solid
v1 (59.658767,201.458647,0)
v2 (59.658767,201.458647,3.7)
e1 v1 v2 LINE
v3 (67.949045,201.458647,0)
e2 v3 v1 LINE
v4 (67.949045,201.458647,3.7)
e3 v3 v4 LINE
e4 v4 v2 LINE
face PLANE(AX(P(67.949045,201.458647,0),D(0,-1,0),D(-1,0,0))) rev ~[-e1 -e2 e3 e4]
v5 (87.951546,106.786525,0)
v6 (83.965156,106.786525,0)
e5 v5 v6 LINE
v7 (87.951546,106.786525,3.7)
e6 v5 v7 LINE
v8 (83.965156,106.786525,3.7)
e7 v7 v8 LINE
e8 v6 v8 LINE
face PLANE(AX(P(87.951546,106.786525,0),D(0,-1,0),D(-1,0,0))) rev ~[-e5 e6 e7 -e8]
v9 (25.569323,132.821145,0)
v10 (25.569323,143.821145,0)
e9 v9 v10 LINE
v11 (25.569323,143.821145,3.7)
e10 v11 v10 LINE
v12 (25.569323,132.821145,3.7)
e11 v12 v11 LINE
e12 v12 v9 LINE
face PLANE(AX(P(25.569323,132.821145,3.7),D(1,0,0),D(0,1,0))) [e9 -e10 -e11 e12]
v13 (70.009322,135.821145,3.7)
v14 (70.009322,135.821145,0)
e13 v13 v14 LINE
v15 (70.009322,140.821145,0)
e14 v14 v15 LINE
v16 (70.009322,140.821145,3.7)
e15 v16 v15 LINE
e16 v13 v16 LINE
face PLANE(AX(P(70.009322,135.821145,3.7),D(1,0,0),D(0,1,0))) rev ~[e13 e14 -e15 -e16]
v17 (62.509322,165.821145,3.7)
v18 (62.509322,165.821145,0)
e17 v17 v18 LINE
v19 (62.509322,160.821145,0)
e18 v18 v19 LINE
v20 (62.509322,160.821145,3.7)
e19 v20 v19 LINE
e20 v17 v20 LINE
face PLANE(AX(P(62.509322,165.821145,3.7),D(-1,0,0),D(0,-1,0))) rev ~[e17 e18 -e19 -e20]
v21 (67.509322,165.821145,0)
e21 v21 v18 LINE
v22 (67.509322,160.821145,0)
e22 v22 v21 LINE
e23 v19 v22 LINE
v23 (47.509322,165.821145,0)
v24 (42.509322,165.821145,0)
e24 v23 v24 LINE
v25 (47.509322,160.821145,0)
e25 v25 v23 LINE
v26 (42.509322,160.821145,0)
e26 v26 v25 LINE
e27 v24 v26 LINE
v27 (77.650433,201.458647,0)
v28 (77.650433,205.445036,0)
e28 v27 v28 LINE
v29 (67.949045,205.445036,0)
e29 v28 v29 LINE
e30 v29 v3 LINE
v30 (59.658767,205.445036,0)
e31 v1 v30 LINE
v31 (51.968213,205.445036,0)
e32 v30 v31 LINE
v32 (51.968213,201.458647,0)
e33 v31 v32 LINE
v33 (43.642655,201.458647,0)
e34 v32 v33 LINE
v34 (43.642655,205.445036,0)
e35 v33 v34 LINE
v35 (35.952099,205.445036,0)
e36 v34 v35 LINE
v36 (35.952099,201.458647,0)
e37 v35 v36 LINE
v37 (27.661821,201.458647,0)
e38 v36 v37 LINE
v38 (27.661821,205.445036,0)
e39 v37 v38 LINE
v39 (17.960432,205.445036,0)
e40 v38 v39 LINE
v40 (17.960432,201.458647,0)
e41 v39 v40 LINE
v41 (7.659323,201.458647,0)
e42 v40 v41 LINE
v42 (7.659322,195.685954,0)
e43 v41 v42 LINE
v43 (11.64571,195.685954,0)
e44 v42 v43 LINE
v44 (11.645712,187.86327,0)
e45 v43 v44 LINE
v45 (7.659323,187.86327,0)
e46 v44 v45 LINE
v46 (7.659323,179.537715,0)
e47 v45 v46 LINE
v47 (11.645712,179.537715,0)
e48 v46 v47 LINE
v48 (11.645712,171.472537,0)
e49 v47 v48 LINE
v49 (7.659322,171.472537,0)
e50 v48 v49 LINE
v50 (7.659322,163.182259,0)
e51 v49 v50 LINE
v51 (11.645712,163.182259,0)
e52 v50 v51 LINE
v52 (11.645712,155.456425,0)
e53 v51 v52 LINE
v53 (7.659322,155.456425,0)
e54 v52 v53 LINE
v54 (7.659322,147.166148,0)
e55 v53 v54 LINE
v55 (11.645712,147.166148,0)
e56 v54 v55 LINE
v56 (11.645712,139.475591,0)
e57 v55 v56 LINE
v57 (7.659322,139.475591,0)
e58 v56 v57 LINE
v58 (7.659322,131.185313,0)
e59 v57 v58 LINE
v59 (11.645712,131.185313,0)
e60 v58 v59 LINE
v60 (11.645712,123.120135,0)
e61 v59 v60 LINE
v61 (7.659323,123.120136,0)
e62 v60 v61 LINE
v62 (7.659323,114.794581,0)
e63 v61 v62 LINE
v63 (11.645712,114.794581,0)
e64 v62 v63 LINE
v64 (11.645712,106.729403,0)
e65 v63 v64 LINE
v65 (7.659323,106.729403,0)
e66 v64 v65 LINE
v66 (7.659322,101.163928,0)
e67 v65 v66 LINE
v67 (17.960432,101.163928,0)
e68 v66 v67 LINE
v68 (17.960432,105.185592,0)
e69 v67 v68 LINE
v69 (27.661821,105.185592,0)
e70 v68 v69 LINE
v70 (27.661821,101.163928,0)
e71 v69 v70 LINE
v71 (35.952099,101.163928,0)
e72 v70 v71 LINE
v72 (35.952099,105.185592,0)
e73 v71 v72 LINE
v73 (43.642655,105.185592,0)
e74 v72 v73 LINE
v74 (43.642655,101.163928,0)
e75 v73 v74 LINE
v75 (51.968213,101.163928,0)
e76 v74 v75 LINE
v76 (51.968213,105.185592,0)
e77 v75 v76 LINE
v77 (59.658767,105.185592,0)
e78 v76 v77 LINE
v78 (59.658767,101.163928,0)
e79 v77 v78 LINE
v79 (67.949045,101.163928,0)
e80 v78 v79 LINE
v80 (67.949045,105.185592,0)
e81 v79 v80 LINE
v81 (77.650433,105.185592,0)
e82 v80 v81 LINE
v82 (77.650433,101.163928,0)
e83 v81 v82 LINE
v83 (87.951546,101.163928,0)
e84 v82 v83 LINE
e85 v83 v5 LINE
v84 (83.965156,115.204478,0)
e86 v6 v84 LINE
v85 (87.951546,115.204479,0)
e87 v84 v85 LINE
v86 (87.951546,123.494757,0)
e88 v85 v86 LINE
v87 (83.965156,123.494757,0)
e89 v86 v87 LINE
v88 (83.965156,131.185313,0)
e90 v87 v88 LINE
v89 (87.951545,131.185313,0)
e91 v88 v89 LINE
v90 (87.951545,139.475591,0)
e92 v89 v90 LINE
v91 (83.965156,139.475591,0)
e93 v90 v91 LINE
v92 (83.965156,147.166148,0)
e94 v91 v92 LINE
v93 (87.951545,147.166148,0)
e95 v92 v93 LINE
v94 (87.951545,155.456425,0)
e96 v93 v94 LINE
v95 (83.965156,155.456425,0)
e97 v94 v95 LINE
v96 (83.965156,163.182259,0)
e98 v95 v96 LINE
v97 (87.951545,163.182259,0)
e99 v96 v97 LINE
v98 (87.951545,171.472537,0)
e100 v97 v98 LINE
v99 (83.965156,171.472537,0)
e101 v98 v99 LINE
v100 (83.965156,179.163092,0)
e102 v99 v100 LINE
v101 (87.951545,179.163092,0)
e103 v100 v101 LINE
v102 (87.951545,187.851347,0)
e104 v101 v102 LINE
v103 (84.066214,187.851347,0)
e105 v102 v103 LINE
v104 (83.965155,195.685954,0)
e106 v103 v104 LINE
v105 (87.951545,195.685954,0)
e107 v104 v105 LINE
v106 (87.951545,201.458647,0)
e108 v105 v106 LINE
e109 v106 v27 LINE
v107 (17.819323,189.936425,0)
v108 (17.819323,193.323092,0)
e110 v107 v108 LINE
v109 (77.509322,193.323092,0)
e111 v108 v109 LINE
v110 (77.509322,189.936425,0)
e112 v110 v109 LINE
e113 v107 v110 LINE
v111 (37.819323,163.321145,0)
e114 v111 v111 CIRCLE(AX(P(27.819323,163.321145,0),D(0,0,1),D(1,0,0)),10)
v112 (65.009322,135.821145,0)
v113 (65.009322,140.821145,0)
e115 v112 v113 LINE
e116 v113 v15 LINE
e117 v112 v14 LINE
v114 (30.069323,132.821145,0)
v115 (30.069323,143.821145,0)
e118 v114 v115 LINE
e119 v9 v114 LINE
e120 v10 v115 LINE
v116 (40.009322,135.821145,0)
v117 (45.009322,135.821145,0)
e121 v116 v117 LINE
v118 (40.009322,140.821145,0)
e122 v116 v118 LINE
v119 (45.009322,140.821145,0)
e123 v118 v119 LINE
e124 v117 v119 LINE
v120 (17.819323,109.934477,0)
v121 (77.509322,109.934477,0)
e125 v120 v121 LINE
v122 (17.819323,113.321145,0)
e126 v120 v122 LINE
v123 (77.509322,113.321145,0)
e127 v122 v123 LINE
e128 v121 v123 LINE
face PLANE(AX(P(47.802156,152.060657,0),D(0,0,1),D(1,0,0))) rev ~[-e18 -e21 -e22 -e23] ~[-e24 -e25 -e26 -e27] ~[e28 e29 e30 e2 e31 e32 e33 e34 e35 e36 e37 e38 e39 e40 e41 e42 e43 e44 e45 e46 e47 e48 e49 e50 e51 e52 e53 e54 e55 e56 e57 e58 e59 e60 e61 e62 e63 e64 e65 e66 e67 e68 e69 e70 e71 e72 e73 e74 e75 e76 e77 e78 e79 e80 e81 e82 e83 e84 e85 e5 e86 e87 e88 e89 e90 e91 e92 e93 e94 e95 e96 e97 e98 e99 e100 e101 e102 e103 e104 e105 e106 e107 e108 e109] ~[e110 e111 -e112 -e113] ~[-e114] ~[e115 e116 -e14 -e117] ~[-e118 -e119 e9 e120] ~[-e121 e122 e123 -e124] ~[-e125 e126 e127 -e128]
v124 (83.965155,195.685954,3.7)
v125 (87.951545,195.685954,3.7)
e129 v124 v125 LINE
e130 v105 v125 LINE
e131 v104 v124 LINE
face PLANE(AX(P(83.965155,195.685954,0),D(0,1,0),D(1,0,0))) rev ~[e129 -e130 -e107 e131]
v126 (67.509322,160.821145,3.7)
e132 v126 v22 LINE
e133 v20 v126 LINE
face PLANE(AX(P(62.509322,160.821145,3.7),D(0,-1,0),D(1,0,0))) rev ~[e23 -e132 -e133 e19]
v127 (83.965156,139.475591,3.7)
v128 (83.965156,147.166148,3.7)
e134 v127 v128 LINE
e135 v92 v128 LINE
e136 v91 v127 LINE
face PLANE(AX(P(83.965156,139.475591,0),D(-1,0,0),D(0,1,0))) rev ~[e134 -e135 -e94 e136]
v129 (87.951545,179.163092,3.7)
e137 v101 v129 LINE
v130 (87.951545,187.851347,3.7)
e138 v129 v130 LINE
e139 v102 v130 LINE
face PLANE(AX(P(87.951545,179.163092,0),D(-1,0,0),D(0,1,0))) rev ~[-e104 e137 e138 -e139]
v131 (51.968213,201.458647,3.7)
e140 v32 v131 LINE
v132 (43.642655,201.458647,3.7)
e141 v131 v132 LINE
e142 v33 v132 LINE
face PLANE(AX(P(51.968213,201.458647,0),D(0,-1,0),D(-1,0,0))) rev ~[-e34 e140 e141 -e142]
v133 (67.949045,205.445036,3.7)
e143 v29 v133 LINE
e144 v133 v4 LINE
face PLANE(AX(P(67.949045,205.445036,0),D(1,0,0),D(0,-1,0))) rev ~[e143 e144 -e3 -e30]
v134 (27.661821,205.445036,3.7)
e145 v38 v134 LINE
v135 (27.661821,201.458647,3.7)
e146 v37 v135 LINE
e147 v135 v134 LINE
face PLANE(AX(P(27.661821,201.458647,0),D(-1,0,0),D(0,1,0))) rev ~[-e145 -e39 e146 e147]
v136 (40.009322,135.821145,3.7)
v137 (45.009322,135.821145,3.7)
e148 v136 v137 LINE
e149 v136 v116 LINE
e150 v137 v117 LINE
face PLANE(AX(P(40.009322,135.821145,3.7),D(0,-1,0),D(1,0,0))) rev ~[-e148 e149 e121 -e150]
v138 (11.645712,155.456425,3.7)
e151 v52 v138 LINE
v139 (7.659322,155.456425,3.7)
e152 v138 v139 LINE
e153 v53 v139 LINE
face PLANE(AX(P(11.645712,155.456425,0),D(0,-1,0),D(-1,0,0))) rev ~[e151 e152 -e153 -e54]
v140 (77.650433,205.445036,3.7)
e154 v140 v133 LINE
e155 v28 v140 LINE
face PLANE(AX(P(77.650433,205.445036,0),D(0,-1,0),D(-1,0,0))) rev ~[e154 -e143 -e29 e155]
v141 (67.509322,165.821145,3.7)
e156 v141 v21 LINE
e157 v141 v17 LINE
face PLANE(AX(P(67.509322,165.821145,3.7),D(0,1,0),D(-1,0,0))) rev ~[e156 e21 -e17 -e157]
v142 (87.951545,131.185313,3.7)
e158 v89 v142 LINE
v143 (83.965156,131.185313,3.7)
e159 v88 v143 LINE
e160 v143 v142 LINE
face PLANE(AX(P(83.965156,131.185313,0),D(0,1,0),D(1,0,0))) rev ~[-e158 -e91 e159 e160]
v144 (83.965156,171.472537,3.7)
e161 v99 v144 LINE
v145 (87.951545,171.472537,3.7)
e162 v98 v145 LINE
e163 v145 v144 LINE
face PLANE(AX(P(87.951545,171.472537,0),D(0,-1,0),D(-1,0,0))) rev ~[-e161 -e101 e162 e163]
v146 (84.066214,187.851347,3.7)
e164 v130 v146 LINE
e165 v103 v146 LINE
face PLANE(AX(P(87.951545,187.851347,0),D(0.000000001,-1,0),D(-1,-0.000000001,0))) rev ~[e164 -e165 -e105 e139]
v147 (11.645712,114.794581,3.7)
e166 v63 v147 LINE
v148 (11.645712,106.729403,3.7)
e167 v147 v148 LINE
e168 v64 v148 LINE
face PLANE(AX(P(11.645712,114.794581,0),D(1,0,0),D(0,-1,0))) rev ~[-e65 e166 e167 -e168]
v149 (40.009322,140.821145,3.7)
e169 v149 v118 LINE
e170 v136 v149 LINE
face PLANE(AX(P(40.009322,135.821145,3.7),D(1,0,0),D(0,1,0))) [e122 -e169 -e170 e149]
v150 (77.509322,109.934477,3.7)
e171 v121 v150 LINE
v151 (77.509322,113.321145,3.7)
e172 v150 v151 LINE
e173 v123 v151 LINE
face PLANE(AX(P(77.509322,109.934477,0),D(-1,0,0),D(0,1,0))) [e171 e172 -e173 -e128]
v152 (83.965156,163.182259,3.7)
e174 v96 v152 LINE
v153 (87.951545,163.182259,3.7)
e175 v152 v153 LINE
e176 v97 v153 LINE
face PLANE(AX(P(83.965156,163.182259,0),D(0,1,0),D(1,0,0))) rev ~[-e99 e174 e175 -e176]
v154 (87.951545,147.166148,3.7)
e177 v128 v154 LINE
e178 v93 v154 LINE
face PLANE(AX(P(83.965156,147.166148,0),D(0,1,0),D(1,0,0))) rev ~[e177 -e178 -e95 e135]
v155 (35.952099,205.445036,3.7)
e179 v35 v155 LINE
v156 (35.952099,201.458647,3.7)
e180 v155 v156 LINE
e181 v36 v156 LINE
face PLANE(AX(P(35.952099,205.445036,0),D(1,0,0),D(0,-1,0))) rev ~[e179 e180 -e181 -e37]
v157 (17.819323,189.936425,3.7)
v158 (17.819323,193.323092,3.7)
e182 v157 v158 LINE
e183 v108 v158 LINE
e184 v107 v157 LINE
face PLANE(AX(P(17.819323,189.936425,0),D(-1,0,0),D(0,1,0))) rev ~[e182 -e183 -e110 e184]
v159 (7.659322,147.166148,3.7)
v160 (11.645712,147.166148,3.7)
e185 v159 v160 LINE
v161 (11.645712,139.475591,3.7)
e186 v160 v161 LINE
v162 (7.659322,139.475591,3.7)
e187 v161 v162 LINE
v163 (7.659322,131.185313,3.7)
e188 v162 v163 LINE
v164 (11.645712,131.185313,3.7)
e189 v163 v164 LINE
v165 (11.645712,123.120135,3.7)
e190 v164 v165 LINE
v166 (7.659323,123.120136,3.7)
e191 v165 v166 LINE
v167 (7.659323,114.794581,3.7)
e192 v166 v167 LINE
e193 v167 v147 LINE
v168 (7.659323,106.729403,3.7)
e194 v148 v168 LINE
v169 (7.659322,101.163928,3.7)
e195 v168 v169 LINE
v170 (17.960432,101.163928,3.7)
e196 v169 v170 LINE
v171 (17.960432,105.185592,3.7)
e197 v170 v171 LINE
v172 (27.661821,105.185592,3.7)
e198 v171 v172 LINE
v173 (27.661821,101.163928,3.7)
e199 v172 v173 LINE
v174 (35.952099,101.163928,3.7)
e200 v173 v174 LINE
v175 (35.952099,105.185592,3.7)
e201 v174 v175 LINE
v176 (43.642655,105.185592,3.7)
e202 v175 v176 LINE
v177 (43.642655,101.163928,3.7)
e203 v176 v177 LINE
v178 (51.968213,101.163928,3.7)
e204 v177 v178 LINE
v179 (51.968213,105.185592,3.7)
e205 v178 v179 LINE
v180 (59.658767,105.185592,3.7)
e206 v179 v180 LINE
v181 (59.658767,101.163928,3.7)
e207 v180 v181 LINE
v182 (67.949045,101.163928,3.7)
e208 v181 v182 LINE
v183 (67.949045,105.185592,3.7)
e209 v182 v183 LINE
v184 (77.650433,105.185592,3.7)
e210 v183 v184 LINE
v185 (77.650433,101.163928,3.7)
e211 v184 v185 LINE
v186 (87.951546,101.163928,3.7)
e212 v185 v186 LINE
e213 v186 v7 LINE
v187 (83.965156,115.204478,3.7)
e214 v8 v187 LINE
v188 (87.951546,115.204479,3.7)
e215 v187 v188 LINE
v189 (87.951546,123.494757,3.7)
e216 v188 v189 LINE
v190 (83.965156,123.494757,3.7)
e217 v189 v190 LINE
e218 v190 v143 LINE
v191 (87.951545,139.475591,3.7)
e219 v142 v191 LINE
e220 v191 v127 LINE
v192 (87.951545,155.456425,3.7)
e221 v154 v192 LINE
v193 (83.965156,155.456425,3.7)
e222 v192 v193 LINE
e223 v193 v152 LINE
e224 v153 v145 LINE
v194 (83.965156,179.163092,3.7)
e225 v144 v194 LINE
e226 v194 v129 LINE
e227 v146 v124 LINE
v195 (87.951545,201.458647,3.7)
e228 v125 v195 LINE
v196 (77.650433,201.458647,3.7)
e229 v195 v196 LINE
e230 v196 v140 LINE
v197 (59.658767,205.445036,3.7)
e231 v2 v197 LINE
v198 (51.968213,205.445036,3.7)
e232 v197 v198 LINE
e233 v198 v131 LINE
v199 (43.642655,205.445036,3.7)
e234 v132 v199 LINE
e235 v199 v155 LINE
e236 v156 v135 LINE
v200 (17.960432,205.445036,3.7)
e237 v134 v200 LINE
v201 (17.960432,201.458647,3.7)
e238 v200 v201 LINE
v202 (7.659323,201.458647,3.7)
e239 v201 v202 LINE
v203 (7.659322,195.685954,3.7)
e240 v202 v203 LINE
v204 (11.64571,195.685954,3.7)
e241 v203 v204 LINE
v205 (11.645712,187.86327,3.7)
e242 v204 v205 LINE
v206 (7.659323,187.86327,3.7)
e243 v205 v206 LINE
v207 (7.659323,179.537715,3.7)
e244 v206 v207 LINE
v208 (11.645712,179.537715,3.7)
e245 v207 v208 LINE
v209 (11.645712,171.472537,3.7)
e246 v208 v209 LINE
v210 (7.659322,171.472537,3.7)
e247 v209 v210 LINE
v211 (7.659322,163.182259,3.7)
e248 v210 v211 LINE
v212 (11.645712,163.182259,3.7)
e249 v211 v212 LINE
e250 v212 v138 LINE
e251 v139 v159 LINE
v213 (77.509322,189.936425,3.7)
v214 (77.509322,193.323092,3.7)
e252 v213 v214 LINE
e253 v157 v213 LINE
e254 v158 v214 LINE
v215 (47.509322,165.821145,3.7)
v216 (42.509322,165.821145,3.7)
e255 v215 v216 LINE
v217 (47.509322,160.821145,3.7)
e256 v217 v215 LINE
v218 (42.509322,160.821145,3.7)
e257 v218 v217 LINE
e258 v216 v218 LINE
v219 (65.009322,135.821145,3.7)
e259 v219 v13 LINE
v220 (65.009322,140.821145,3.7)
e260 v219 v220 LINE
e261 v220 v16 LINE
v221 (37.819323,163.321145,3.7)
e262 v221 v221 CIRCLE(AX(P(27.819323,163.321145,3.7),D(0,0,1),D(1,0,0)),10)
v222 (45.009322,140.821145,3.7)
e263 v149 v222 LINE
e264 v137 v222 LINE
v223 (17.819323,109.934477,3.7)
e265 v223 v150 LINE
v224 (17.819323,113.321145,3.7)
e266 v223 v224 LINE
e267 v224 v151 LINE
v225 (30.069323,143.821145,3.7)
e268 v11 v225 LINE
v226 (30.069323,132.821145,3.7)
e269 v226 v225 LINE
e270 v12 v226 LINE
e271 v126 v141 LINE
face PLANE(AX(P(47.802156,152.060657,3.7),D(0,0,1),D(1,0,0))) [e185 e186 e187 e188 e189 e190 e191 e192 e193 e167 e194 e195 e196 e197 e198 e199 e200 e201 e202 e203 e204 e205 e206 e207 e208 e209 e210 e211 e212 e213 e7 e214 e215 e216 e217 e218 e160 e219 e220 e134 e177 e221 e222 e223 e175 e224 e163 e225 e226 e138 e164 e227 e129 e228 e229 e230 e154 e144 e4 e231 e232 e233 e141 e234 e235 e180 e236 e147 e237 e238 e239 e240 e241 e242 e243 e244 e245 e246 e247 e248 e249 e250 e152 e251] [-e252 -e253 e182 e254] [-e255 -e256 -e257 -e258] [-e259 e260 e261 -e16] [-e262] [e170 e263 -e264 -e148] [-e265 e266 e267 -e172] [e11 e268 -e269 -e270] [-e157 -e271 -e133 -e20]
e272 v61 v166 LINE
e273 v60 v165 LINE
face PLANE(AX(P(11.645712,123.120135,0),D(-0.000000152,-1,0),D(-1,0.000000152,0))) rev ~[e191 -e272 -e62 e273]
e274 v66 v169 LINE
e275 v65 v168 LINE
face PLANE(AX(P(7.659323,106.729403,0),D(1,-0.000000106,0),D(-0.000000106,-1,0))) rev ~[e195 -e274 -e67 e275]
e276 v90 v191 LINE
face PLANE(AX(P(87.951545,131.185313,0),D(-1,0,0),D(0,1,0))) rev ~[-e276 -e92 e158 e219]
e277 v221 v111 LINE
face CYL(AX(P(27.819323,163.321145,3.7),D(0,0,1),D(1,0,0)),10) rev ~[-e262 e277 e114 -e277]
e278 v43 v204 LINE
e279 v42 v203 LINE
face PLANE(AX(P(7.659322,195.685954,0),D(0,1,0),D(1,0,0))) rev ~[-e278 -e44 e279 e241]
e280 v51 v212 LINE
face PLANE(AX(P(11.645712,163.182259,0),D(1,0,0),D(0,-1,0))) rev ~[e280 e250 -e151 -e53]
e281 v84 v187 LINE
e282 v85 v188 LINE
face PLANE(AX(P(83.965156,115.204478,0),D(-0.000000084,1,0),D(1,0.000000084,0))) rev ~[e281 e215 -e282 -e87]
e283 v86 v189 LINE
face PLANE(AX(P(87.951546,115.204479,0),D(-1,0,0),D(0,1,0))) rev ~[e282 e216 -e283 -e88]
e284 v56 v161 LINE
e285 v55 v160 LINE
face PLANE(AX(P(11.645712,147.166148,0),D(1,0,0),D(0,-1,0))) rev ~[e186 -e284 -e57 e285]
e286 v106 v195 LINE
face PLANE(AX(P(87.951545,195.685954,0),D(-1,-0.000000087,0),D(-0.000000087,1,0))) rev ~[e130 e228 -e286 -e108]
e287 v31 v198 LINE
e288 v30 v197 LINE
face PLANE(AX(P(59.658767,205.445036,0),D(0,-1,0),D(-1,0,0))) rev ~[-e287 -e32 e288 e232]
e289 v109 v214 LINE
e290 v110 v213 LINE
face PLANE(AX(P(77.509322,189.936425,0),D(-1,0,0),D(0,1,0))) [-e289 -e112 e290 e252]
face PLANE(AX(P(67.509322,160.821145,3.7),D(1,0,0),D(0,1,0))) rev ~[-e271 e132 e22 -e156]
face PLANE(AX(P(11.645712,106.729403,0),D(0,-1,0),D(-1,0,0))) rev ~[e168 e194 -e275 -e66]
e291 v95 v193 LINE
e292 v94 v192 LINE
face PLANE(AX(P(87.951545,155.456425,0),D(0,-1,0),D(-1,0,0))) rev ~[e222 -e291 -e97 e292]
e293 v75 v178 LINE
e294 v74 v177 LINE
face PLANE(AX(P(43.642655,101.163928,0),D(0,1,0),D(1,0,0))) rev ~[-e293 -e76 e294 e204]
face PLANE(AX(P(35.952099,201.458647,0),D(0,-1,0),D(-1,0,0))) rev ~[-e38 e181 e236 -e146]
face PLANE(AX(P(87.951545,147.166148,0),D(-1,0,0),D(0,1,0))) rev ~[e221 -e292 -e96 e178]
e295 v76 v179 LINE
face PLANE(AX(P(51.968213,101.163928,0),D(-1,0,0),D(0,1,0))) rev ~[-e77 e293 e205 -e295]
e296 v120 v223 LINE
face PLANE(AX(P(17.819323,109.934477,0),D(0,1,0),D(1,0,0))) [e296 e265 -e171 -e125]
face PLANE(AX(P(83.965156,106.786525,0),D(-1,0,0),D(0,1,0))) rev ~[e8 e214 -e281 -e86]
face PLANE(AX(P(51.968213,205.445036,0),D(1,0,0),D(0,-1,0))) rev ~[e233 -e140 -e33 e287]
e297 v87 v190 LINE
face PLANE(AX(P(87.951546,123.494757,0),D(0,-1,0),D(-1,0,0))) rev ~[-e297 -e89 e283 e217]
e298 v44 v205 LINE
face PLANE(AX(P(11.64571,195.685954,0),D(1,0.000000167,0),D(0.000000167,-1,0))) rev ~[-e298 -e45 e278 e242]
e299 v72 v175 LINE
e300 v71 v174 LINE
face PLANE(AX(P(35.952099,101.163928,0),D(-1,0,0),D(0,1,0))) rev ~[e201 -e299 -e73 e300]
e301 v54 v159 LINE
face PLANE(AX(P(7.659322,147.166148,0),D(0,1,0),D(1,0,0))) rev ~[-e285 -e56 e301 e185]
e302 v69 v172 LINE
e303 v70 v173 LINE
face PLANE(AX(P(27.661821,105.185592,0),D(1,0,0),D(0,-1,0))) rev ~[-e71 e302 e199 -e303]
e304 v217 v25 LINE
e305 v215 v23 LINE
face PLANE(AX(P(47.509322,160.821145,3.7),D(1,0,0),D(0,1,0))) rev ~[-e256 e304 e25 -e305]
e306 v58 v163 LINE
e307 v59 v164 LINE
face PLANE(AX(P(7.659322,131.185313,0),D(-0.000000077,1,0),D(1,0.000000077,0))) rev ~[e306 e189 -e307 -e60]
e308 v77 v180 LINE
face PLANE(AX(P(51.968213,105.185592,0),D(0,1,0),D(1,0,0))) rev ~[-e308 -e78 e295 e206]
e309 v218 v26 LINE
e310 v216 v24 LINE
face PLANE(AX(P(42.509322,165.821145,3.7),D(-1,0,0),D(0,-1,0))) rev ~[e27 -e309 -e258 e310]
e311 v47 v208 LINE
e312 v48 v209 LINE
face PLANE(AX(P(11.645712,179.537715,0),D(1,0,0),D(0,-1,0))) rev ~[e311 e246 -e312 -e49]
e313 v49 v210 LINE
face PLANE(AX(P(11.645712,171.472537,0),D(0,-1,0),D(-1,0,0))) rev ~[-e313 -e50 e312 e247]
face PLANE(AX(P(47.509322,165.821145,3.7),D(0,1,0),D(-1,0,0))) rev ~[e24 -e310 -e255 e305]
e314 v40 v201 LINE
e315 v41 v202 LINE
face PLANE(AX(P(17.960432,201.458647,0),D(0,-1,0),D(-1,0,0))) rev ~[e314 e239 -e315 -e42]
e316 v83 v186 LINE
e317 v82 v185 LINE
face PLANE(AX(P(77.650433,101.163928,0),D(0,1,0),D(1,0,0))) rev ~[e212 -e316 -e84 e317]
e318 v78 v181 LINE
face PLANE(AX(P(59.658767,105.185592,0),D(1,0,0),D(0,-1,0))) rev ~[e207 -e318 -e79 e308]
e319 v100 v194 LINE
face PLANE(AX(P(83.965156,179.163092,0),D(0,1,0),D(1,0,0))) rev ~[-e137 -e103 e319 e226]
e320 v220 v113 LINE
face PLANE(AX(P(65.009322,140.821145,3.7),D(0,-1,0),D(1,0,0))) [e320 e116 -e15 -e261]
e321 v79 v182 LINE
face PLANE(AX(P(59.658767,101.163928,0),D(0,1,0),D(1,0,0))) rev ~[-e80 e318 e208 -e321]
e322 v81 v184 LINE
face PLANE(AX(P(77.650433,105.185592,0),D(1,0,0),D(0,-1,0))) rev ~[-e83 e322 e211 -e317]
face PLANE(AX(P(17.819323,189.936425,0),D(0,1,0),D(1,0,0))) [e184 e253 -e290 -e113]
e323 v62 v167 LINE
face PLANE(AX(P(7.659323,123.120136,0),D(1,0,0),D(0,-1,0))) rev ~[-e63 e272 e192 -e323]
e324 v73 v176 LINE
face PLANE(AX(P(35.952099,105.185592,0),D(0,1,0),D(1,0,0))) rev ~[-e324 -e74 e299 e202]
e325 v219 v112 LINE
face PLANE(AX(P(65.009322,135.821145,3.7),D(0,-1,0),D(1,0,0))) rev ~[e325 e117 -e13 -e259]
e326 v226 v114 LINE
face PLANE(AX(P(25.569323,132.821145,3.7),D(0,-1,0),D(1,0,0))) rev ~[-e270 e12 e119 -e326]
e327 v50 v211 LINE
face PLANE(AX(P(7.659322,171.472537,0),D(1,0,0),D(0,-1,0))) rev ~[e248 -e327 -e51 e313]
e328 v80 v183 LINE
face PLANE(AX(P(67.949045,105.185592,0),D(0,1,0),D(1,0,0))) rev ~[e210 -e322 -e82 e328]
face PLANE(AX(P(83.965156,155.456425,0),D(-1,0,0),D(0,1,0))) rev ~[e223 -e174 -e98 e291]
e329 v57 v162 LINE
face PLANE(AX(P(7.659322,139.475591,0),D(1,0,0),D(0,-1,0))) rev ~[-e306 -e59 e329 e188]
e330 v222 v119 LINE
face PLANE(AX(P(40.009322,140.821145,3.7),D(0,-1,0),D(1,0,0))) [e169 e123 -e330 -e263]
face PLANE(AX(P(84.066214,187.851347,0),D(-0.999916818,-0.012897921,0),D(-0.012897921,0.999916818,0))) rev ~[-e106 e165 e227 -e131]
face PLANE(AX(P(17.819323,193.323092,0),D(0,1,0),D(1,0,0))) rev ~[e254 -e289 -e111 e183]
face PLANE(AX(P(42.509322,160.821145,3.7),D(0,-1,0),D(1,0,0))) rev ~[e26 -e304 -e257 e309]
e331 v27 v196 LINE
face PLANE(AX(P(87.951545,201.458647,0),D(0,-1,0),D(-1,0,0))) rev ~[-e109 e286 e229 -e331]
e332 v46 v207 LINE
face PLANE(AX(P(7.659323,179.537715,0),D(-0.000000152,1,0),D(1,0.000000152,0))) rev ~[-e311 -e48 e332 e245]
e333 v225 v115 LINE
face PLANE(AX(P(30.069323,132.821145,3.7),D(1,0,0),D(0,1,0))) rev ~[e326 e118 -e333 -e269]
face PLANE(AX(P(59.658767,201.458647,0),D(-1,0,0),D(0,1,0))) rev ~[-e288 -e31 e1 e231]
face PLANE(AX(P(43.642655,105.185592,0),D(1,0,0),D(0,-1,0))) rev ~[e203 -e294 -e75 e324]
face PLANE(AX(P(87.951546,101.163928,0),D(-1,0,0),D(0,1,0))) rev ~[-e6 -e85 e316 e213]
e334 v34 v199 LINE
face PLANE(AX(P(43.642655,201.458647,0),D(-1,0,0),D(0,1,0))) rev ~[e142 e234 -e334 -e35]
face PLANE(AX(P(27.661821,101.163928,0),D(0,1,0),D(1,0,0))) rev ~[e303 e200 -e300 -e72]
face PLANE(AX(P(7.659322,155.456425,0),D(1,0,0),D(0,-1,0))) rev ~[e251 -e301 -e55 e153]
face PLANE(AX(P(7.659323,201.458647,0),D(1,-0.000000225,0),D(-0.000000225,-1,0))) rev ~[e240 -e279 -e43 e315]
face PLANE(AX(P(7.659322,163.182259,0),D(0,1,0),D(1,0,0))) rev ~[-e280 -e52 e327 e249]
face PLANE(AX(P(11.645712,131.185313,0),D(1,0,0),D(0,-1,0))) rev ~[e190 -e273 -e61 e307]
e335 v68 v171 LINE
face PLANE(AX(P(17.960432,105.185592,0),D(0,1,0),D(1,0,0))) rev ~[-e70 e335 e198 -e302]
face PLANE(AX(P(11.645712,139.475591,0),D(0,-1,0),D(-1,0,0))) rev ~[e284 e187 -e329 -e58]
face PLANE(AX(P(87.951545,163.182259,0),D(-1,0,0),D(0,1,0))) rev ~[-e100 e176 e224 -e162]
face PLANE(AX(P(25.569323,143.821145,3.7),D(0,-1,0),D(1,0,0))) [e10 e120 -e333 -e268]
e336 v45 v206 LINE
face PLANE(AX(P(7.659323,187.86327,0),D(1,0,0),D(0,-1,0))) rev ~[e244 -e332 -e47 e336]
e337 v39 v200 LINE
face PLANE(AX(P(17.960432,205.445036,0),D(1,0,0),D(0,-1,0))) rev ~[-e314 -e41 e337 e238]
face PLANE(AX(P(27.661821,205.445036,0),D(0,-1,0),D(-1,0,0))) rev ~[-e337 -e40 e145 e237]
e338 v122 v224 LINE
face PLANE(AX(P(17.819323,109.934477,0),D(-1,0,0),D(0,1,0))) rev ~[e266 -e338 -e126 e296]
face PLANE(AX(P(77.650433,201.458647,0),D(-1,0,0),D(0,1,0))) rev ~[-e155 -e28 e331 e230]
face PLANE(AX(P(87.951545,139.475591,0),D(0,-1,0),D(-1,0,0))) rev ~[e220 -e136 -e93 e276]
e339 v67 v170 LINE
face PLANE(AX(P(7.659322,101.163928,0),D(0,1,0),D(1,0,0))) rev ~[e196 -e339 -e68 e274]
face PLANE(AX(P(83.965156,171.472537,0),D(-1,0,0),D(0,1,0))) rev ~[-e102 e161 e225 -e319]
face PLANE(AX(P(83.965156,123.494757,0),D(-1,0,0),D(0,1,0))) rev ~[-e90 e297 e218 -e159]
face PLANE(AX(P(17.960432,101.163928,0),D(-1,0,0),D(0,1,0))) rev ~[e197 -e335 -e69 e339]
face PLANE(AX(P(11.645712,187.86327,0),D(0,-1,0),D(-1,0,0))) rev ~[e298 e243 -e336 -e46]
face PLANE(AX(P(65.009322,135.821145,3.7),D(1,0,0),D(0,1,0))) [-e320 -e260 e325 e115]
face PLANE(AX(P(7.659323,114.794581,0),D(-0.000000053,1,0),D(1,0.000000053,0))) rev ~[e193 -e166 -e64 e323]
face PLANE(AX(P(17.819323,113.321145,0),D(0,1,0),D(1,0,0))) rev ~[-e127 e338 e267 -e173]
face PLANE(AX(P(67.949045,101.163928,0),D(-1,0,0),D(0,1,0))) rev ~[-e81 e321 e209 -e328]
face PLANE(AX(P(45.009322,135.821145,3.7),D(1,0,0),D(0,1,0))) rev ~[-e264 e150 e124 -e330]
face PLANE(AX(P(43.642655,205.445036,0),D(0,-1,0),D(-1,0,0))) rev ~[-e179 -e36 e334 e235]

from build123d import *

# Parameters (mm, degrees)
MODEL_W             = 59.689998908
MODEL_H             = 3.386668819
MODEL_H_2           = 3.3866668
BOSS_EXTRUDE1_DEPTH = 3.7
SKETCH1_W           = 5
SKETCH1_H           = 5
SKETCH1_R           = 10
SKETCH1_W_2         = 4.5
SKETCH1_H_2         = 11
CUT_EXTRUDE1_DEPTH  = 10


with BuildPart() as part:
    # Model → Boss-Extrude1 (new body)
    with BuildSketch(Plane.XY):
        Polygon((7.659321824, 131.185313162), (11.645711781, 131.185313467), (11.645711781, 123.120135193), (7.659323163, 123.120135799), (7.659323163, 114.794580784), (11.645711704, 114.794580995), (11.645711704, 106.729402721), (7.659323085, 106.729402721), (7.659322496, 101.163927511), (17.960431856, 101.163927511), (17.960431856, 105.185592023), (27.661820742, 105.185592023), (27.661820742, 101.163927511), (35.952098518, 101.163927511), (35.952098518, 105.185592023), (43.642655148, 105.185592023), (43.642655148, 101.163927511), (51.968212855, 101.163927511), (51.968212855, 105.185592023), (59.658766793, 105.185592023), (59.658766793, 101.163927511), (67.949044569, 101.163927511), (67.949044569, 105.185592023), (77.650433456, 105.185592023), (77.650433456, 101.163927511), (87.951545673, 101.163927511), (87.951545673, 106.78652537), (83.965155709, 106.78652537), (83.965155709, 115.20447842), (87.951545673, 115.204478756), (87.951545673, 123.494756532), (83.965155708, 123.494756532), (83.965155708, 131.185313162), (87.951545168, 131.185313162), (87.951545168, 139.475590938), (83.965156213, 139.475590938), (83.965156213, 147.166147568), (87.951545168, 147.166147568), (87.951545168, 155.456425344), (83.965156213, 155.456425344), (83.965156213, 163.182259213), (87.951545168, 163.182259213), (87.951545168, 171.472536989), (83.965156213, 171.472536989), (83.965156213, 179.163092274), (87.951545169, 179.163092274), (87.951545169, 187.851347209), (84.066213746, 187.851347204), (83.965155204, 195.685953684), (87.951545169, 195.685953684), (87.951544665, 201.458647414), (77.650433455, 201.458647414), (77.650433455, 205.445036033), (67.949044569, 205.445036033), (67.949044569, 201.458647414), (59.658766793, 201.458647414), (59.658766793, 205.445036033), (51.968212854, 205.445036033), (51.968212854, 201.458647414), (43.642655148, 201.458647414), (43.642655148, 205.445036033), (35.952098517, 205.445036033), (35.952098517, 201.458647414), (27.661820742, 201.458647414), (27.661820742, 205.445036033), (17.960431855, 205.445036033), (17.960431855, 201.458647414), (7.659323162, 201.458647414), (7.659321865, 195.685953684), (11.645710483, 195.685953684), (11.645711788, 187.863269672), (7.65932317, 187.863269672), (7.65932317, 179.537714657), (11.645711788, 179.537715263), (11.645711788, 171.472536989), (7.659321824, 171.472536989), (7.659321824, 163.182259214), (11.645711789, 163.182259214), (11.645711789, 155.456425344), (7.659321824, 155.456425344), (7.659321824, 147.166147568), (11.645711789, 147.166147568), (11.645711789, 139.475590938), (7.659321824, 139.475590938), align=None)
        with Locations((47.664322352, 111.627811013)):
            Rectangle(MODEL_W, MODEL_H, mode=Mode.SUBTRACT)
        with Locations((47.664322352, 191.629758602)):
            Rectangle(MODEL_W, MODEL_H_2, mode=Mode.SUBTRACT)
    extrude(amount=BOSS_EXTRUDE1_DEPTH)

    # Sketch1 → Cut-Extrude1 (cut)
    with BuildSketch(Plane.XY.offset(3.7)):
        with Locations((42.509321806, 138.321145422)):
            Rectangle(SKETCH1_W, SKETCH1_H)
        Polygon((47.509321806, 160.821145422), (47.509321806, 163.321145422), (47.509321806, 165.821145422), (42.509321806, 165.821145422), (42.509321806, 160.821145422), align=None)
        Polygon((62.509321806, 165.821145422), (62.509321806, 163.321145422), (62.509321806, 160.821145422), (67.509321806, 160.821145422), (67.509321806, 165.821145422), align=None)
        with Locations((67.509321806, 138.321145422)):
            Rectangle(SKETCH1_W, SKETCH1_H)
        with Locations((27.819322898, 163.321145422)):
            Circle(SKETCH1_R)
        with Locations((27.819322898, 138.321145422)):
            Rectangle(SKETCH1_W_2, SKETCH1_H_2)
    extrude(amount=-CUT_EXTRUDE1_DEPTH, mode=Mode.SUBTRACT)


solid = part.part
